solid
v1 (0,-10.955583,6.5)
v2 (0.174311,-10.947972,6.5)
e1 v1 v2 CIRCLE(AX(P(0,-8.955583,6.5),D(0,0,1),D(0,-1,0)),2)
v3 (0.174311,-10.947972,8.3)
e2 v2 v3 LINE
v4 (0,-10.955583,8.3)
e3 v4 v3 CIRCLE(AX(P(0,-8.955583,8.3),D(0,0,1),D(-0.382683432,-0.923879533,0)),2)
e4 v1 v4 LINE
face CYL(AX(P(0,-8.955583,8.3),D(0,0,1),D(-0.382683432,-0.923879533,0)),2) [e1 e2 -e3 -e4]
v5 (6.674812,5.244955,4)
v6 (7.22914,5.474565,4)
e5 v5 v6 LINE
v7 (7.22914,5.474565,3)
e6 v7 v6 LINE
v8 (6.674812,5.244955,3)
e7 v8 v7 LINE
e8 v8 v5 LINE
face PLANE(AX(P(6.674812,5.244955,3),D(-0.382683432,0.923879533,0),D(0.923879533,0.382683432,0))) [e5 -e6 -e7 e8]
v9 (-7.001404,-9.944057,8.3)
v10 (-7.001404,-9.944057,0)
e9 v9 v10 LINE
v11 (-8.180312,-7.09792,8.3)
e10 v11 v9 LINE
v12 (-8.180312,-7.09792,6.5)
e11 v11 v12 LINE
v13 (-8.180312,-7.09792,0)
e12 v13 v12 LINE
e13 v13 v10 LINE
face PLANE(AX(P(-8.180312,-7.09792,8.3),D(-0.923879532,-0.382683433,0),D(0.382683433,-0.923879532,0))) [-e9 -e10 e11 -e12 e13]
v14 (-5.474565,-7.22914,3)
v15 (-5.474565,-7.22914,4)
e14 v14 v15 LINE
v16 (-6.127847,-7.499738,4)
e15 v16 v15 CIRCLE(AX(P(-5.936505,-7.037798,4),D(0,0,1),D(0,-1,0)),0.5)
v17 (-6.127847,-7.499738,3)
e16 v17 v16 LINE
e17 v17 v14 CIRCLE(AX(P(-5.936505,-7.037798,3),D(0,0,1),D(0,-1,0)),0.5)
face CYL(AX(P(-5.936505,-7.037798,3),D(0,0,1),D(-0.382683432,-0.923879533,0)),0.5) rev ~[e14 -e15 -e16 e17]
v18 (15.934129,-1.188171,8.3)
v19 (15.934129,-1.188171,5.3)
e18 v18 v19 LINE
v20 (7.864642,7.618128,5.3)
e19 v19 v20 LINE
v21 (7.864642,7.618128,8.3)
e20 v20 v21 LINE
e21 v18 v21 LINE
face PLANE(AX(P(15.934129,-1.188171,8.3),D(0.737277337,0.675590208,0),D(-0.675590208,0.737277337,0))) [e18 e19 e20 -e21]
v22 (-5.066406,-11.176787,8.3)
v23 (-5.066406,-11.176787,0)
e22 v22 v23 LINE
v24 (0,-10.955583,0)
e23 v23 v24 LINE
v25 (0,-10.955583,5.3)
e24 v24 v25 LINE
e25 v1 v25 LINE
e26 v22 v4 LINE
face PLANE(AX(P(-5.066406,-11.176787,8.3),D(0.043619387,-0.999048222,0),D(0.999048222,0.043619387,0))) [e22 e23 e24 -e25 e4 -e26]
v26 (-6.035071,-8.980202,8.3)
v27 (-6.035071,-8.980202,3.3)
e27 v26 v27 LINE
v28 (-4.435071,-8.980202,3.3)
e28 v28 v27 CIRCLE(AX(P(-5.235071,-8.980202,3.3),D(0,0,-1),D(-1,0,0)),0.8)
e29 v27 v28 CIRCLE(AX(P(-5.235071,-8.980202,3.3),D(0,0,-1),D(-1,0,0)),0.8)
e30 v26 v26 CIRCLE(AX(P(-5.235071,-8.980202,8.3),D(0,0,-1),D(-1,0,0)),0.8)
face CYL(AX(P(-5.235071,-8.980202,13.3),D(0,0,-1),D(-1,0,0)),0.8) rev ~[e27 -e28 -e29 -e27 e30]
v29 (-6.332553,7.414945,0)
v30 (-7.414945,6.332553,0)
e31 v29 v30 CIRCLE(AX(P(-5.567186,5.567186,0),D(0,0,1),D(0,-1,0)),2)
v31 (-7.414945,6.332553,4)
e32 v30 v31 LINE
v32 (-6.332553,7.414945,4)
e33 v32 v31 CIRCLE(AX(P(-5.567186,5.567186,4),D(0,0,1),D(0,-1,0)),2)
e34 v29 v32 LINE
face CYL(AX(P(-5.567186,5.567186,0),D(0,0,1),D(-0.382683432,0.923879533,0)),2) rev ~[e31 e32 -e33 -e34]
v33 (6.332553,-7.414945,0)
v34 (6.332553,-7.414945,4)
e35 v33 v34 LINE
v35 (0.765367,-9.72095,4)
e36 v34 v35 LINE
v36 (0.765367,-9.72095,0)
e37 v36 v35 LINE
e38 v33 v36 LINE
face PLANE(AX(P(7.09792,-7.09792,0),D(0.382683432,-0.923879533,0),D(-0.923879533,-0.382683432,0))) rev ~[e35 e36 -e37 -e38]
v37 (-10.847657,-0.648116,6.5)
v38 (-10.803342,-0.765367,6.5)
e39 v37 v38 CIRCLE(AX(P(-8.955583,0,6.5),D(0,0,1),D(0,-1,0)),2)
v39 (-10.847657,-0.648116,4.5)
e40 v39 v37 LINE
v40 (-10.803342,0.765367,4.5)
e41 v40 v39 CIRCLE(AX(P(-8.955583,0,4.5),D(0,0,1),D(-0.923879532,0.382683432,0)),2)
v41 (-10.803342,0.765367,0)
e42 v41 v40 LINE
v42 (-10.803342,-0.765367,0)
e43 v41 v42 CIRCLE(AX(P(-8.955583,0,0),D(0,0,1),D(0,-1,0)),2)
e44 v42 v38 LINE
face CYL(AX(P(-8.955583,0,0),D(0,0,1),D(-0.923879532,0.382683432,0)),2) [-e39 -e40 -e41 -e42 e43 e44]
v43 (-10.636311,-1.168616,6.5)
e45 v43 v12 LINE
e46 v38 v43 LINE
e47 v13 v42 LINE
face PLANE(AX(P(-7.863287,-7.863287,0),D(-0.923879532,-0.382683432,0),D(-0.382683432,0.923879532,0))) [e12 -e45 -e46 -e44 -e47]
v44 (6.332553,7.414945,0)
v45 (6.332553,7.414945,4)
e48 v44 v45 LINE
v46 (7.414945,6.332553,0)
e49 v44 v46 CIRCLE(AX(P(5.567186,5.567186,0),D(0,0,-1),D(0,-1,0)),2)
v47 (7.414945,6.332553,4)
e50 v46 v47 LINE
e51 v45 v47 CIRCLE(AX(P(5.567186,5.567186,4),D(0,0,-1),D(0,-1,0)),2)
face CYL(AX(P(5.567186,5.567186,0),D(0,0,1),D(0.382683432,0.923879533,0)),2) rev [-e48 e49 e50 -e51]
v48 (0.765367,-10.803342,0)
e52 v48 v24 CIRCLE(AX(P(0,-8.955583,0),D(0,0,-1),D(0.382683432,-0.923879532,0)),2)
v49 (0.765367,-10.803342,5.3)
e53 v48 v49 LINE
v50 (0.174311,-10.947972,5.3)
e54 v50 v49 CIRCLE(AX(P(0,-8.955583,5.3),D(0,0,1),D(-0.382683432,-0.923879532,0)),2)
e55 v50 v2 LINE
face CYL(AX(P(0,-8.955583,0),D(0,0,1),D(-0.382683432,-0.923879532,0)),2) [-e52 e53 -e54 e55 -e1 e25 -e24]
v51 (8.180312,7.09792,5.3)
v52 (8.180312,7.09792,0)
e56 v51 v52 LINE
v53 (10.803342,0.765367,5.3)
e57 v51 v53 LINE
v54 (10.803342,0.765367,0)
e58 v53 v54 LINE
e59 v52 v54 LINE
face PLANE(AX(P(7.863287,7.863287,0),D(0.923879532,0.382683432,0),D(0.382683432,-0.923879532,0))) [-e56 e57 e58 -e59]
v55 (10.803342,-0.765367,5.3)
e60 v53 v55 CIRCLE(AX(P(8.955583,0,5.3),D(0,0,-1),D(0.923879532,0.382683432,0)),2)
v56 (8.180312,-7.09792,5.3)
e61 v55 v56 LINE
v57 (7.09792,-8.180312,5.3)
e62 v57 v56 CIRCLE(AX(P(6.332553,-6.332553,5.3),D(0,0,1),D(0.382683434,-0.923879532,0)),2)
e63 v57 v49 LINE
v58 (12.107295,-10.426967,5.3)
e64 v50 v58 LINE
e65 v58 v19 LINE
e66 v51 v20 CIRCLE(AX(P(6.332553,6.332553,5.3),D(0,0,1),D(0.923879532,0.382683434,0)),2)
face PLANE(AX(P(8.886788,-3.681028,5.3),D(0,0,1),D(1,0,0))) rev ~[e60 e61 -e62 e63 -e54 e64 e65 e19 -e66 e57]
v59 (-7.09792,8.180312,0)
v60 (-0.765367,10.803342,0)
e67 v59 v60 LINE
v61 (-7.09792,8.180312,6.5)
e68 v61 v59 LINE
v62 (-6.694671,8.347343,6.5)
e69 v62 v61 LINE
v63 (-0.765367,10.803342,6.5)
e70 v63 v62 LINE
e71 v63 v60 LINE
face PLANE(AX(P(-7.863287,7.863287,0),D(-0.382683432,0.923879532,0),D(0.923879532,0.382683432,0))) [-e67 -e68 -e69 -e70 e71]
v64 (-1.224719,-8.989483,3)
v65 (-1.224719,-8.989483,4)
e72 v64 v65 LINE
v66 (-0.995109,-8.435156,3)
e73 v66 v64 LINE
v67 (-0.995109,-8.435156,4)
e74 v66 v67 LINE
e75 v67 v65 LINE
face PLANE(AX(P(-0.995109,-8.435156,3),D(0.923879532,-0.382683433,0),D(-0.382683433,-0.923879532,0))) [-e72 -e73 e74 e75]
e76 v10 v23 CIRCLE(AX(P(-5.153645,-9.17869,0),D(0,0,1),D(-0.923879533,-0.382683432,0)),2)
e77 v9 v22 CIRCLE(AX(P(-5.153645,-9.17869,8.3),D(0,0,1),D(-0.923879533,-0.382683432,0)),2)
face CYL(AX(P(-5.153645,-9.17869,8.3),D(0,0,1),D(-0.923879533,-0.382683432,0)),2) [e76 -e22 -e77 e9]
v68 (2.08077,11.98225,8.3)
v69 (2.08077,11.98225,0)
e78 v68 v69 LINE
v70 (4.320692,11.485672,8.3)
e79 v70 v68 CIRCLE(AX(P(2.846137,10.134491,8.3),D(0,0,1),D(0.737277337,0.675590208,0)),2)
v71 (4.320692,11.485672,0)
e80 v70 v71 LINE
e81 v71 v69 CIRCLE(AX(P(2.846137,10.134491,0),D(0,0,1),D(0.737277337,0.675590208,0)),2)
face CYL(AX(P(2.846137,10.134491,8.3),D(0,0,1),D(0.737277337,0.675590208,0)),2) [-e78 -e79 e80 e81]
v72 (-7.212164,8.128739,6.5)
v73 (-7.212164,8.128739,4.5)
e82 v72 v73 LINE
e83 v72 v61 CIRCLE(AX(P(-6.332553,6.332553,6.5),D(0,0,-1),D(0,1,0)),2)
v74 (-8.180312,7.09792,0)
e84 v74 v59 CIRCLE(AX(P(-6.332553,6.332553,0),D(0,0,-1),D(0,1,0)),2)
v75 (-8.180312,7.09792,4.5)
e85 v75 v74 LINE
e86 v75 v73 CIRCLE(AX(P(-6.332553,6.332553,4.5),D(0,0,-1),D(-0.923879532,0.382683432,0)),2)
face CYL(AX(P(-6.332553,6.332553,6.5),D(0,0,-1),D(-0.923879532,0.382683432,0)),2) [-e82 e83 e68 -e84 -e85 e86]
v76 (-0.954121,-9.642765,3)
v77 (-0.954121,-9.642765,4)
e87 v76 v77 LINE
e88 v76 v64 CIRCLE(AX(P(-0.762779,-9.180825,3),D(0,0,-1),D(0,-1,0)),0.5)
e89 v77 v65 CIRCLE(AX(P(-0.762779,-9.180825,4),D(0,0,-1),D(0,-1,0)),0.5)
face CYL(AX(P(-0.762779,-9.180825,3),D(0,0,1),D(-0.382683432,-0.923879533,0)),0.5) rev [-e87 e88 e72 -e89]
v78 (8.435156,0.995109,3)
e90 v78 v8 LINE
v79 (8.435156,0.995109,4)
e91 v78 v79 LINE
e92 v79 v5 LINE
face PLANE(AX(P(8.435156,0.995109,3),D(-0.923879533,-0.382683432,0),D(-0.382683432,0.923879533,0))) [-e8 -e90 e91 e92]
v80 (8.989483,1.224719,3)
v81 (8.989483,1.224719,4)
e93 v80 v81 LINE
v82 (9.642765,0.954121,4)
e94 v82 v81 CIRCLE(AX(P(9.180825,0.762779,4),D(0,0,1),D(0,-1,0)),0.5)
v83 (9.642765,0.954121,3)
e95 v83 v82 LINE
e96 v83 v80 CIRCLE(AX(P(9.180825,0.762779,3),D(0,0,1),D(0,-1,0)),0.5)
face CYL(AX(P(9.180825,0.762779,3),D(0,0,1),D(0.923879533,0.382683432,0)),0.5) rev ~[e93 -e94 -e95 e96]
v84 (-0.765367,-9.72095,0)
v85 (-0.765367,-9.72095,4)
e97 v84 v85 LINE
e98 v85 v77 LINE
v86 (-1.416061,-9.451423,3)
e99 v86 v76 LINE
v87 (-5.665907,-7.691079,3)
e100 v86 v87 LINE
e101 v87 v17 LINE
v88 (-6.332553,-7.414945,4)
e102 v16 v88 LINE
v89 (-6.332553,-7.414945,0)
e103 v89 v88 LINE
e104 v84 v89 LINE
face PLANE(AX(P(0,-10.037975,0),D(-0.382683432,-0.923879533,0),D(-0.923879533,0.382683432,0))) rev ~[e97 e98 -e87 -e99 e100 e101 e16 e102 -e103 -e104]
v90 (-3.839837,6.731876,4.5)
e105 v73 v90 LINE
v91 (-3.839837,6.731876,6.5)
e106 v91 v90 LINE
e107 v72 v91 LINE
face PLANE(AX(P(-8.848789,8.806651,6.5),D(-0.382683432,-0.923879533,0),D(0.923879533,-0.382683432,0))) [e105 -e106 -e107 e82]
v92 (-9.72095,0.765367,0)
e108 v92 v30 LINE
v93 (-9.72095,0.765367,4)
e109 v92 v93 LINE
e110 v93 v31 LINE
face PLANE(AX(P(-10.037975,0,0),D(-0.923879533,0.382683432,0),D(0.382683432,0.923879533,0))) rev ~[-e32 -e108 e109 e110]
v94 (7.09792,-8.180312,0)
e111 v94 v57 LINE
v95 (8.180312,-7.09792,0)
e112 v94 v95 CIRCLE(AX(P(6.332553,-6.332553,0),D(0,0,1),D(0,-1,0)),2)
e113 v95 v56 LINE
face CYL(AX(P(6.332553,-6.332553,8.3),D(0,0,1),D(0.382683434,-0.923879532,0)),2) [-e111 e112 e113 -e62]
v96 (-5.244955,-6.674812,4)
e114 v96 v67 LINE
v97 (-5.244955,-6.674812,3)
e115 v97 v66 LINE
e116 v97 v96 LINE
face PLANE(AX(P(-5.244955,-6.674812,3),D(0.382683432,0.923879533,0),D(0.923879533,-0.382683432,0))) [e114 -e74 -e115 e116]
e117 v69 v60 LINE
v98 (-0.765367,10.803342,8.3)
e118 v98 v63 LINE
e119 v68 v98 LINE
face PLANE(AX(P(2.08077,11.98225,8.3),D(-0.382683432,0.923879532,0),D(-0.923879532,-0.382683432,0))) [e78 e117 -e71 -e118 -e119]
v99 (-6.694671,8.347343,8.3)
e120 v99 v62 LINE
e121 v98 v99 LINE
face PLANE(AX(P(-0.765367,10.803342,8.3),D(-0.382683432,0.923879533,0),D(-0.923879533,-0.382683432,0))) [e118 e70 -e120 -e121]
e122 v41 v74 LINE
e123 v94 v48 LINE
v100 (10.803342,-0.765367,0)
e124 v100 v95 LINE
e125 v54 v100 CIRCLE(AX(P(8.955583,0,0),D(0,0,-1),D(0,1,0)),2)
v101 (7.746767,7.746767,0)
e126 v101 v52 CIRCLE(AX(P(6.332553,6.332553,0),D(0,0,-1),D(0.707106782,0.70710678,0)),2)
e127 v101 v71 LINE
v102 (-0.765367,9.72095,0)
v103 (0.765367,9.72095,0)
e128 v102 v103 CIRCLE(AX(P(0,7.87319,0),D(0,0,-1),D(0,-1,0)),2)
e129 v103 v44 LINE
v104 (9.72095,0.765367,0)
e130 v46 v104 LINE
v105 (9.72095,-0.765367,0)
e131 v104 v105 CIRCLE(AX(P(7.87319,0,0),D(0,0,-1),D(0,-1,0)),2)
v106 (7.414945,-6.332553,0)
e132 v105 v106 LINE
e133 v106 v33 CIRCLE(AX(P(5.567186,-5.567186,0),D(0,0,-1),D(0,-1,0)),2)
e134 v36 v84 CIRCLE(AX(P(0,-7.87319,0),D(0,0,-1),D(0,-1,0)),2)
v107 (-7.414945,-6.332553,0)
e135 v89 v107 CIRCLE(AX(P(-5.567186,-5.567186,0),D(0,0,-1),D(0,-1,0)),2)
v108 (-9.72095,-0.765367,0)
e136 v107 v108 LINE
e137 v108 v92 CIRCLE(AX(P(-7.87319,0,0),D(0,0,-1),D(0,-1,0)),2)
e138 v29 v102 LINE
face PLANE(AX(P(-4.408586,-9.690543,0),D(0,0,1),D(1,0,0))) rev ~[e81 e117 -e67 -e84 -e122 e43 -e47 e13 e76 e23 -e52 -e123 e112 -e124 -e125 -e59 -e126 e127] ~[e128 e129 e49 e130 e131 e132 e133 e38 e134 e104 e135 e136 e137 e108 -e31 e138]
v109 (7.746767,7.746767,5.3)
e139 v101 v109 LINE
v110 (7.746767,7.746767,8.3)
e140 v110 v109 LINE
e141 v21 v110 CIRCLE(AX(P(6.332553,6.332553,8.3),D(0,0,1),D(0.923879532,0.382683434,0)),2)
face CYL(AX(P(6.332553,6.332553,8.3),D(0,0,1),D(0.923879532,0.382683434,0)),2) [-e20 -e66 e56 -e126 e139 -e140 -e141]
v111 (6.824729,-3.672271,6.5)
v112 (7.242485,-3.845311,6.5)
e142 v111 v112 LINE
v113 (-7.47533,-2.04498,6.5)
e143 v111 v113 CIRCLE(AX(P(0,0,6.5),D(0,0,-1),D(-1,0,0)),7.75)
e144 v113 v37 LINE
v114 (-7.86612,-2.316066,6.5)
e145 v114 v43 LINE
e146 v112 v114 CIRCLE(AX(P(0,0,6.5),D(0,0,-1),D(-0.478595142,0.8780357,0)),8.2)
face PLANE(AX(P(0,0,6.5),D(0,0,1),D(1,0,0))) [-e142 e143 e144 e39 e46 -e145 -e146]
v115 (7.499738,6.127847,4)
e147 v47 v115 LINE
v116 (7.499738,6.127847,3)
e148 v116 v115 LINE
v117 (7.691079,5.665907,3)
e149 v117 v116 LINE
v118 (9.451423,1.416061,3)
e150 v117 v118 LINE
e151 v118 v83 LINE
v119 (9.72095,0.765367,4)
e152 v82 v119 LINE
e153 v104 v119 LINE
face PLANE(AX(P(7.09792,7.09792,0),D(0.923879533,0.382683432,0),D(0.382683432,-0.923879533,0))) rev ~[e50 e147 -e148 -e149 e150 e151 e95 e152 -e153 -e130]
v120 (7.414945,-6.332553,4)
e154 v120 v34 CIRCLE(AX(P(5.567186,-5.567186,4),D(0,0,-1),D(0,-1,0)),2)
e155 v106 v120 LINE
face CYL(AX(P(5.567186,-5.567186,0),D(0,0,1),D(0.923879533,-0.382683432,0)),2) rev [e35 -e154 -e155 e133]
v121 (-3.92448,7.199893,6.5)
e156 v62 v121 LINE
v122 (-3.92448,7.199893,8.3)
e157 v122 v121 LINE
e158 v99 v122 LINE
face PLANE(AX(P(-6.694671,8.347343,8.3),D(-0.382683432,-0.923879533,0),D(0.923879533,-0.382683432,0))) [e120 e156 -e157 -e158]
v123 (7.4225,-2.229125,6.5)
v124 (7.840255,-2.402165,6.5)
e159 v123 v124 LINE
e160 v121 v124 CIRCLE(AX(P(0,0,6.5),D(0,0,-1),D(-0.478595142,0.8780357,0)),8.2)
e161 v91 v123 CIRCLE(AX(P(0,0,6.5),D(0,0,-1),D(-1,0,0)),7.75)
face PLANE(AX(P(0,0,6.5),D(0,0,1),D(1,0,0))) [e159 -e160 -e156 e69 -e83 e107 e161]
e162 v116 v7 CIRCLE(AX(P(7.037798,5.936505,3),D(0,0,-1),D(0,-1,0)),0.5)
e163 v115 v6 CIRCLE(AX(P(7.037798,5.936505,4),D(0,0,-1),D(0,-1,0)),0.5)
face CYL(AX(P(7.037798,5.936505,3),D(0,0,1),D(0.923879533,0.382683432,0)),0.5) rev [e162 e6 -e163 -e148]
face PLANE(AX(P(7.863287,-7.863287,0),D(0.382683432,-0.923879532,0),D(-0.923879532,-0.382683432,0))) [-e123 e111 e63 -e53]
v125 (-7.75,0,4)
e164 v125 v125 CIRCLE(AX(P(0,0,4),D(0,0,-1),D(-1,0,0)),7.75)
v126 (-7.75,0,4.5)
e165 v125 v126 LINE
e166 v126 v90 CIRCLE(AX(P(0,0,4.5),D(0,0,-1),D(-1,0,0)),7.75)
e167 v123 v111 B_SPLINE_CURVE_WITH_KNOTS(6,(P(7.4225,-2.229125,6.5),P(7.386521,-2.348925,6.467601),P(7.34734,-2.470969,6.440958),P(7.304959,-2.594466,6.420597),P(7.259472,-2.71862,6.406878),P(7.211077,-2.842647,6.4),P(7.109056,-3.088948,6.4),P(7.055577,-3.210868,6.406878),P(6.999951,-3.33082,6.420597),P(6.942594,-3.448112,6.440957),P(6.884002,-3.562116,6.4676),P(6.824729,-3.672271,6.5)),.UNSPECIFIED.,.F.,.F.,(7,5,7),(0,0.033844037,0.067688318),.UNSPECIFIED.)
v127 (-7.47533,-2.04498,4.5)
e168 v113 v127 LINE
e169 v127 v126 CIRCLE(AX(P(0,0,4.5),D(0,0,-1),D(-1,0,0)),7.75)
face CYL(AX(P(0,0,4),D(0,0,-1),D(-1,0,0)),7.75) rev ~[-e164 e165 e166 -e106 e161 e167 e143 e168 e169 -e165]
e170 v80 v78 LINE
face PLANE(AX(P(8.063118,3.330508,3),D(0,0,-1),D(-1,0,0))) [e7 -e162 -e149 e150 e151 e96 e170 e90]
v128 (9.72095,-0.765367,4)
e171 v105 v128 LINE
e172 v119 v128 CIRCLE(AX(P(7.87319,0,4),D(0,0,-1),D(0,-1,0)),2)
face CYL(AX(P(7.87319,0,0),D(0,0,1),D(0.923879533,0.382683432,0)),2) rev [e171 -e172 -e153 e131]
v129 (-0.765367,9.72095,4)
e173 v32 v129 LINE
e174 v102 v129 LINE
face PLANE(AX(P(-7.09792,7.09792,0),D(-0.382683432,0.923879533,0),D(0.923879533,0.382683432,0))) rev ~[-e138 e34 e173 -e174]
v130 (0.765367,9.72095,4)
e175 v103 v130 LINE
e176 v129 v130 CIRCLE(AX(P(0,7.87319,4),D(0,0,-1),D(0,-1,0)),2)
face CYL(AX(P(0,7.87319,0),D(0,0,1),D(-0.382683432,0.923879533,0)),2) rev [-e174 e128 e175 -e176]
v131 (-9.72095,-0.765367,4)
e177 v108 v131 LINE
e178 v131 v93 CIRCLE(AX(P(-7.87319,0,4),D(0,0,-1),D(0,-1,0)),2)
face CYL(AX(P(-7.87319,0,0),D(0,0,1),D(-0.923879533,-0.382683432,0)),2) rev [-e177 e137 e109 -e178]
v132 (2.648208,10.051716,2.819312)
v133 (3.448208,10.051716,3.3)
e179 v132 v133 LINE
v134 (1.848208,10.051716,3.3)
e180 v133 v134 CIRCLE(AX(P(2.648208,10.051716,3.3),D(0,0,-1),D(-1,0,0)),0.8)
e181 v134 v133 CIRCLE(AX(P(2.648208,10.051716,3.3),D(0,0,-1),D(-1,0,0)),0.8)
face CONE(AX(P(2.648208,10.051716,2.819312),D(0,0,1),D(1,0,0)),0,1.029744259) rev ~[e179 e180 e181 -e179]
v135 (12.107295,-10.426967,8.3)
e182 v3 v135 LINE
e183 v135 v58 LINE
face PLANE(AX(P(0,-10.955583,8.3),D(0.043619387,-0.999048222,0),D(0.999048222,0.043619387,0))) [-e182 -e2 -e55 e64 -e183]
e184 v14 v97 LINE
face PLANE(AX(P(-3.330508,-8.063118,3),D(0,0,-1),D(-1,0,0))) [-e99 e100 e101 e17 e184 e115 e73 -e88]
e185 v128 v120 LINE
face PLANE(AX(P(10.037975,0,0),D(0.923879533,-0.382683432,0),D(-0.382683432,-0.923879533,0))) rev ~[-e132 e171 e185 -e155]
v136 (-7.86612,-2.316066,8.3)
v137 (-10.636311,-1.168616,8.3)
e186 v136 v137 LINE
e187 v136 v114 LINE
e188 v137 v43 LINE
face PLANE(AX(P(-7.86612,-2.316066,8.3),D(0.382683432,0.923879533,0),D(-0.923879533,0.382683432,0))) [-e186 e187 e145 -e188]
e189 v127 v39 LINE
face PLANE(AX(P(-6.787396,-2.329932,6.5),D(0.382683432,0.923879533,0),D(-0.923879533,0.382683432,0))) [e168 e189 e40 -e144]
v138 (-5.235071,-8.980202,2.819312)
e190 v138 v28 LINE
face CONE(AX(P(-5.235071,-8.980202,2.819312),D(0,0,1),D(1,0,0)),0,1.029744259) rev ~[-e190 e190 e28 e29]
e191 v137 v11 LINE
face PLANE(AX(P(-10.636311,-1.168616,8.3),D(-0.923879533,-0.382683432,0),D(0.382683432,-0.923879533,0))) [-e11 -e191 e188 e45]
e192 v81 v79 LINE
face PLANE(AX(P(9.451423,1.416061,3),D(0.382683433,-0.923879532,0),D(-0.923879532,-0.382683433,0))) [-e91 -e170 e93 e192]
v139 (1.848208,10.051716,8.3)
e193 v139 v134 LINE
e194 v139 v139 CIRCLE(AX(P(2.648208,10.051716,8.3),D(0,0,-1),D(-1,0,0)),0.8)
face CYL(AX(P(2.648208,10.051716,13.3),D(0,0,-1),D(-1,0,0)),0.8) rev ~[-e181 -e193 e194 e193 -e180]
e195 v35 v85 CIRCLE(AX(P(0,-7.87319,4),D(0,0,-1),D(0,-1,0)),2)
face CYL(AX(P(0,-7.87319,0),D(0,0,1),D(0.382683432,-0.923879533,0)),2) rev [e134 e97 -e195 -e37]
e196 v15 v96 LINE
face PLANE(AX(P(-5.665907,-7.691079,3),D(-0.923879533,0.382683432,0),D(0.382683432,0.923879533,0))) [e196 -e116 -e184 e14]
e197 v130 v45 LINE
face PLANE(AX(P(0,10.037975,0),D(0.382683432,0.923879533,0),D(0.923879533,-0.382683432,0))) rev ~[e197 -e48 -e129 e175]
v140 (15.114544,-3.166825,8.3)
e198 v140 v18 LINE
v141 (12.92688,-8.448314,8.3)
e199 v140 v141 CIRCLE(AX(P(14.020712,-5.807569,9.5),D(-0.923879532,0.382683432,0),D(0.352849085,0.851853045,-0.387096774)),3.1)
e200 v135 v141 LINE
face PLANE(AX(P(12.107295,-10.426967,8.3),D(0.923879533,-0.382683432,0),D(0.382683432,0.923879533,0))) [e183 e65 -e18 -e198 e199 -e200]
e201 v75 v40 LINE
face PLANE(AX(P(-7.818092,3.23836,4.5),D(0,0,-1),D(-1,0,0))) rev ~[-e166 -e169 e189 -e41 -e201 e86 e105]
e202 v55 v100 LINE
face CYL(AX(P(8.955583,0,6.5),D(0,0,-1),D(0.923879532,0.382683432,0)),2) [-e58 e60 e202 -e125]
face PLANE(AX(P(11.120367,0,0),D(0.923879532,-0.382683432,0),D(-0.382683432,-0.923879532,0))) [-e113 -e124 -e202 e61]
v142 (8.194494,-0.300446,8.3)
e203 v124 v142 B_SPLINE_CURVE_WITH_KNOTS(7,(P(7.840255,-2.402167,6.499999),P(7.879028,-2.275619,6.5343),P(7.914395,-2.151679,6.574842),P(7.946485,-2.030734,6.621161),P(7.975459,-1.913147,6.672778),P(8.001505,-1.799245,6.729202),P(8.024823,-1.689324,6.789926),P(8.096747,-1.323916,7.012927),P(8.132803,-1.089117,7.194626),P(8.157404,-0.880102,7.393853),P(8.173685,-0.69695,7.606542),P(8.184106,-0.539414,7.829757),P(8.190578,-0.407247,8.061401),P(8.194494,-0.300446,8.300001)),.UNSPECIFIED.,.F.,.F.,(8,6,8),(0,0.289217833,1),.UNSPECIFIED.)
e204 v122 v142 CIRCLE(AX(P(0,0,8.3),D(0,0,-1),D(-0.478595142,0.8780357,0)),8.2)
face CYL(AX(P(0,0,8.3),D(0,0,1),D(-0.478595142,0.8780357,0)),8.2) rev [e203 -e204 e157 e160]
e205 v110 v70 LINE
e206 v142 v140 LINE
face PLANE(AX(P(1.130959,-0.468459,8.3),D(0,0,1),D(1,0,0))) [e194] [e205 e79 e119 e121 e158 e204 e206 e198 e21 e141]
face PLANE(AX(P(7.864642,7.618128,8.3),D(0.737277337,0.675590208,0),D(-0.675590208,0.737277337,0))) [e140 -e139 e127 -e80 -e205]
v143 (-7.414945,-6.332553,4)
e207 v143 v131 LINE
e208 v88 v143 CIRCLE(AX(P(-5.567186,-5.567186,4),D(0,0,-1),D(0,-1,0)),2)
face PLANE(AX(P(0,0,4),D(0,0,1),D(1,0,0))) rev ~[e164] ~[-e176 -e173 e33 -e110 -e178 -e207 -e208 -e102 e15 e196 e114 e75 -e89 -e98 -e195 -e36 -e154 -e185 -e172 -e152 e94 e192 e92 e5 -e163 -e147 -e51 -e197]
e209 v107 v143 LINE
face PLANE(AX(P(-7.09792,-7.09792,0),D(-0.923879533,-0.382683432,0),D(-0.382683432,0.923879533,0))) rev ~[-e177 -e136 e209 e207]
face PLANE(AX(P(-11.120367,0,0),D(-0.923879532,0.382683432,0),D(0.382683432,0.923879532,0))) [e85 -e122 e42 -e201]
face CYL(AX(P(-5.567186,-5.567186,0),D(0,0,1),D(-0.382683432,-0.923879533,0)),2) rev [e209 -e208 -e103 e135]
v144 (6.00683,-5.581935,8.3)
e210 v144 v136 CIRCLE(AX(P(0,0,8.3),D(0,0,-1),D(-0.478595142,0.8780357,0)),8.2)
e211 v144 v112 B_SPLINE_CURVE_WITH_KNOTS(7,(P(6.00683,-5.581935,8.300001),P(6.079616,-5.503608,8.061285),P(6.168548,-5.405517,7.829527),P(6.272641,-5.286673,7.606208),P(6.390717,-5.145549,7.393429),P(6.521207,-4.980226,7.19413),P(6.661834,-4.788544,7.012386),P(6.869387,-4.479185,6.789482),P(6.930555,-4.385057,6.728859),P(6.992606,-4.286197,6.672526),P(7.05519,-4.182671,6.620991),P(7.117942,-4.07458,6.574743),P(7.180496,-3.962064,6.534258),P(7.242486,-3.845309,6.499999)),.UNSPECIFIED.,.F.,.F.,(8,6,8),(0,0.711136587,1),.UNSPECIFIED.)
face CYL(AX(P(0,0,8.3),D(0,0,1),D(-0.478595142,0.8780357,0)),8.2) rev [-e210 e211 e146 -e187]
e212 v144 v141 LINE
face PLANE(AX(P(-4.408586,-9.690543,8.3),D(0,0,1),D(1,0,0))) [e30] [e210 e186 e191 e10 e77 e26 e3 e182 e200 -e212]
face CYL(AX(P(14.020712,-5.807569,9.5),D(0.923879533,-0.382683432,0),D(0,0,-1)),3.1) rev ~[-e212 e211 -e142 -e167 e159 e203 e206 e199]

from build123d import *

# Parameters (mm, degrees)
BOSS_EXTRUDE1_DEPTH             = 6
BOSS_EXTRUDE1_2_DEPTH           = 6
CUT_EXTRUDE1_DEPTH              = 4
BOSS_EXTRUDE2_DEPTH             = 0.5
BOSS_EXTRUDE2_DEPTH_BACK        = 2
BOSS_EXTRUDE3_REACH             = 22.017
BOSS_EXTRUDE3_START             = -3
SKETCH6_R                       = 7.75
CUT_EXTRUDE2_DEPTH              = 17.227295759
FILLET1_R                       = 2
BOSS_EXTRUDE4_START             = 1.8
BOSS_EXTRUDE4_DEPTH             = 1.8
CUT_EXTRUDE3_DEPTH              = 2
BOSS_EXTRUDE5_DEPTH             = 3
CUT_EXTRUDE4_REACH              = 33.204
CUT_EXTRUDE4_END_RADIUS         = 7.75
SKETCH11_R                      = 3.1
BOSS_EXTRUDE6_DEPTH             = 8.3
TAP_DRILL_FOR_M2X0_4_TAP1_D     = 1.6
TAP_DRILL_FOR_M2X0_4_TAP1_DEPTH = 5
TAP_DRILL_FOR_M2X0_4_TAP1_TIP   = 0.480688495
FILLET2_R                       = 0.5


with BuildPart() as part:
    # Sketch1 → Boss-Extrude1 (new body)
    with BuildSketch(Plane.XY):
        Polygon((-8.605017992, 0), (-6.084666575, 6.084666575), (0, 8.605017992), (6.084666575, 6.084666575), (8.605017992, 0), (6.084666575, -6.084666575), (0, -8.605017992), (-6.084666575, -6.084666575), align=None)
    extrude(amount=BOSS_EXTRUDE1_DEPTH)

    # Sketch3 → Cut-Extrude1 (cut)
    with BuildSketch(Plane(origin=(0, 0, 0), x_dir=(-1, 0, 0), z_dir=(0, 0, -1))):
        Polygon((6.084666575, 6.084666575), (0, 8.605017992), (-6.084666575, 6.084666575), (-8.605017992, 0), (-6.084666575, -6.084666575), (0, -8.605017992), (6.084666575, -6.084666575), (8.605017992, 0), align=None)
    extrude(amount=-CUT_EXTRUDE1_DEPTH, mode=Mode.SUBTRACT)



with BuildPart() as body_2:
    # Sketch1 → Boss-Extrude1 2 (new body)
    with BuildSketch(Plane.XY):
        Polygon((-11.120367073, 0), (-7.863286966, 7.863286966), (0, 11.120367073), (7.863286966, 7.863286966), (11.120367073, 0), (7.863286966, -7.863286966), (0, -11.120367073), (-7.863286966, -7.863286966), align=None)
        Polygon((-7.097920102, 7.097920102), (0, 10.037974872), (7.097920102, 7.097920102), (10.037974872, 0), (7.097920102, -7.097920102), (0, -10.037974872), (-7.097920102, -7.097920102), (-10.037974872, 0), align=None, mode=Mode.SUBTRACT)
    extrude(amount=BOSS_EXTRUDE1_2_DEPTH)


with BuildPart() as part_1:
    add(part.part)

    add(body_2.part)  # Boss-Extrude2 merges body 2
    # Sketch4 → Boss-Extrude2 (add, two sides: drawn at the far end of the back side and taken through both)
    with BuildSketch(Plane.XY.offset(6).offset(-BOSS_EXTRUDE2_DEPTH_BACK)):
        Polygon((-11.120367073, 0), (-7.863286966, -7.863286966), (0, -11.120367073), (7.863286966, -7.863286966), (11.120367073, 0), (7.863286966, 7.863286966), (0, 11.120367073), (-7.863286966, 7.863286966), align=None)
    extrude(amount=BOSS_EXTRUDE2_DEPTH + BOSS_EXTRUDE2_DEPTH_BACK)

    # Sketch5 → Boss-Extrude3 (add, up to next)
    with BuildSketch(Plane(origin=(0, 0, 0), x_dir=(-1, 0, 0), z_dir=(0, 0, -1)).offset(BOSS_EXTRUDE3_START), mode=Mode.PRIVATE) as boss_extrude3_sk1:
        Polygon((-7.691079422, 5.665906826), (-9.451423211, 1.416060977), (-8.435155725, 0.995109201), (-6.674811936, 5.244955051), align=None)
    boss_extrude3_tool1 = extrude(boss_extrude3_sk1.sketch, amount=-BOSS_EXTRUDE3_REACH, mode=Mode.PRIVATE) - part_1.part
    # Sketch5 → Boss-Extrude3 (add, up to next)
    with BuildSketch(Plane(origin=(0, 0, 0), x_dir=(-1, 0, 0), z_dir=(0, 0, -1)).offset(BOSS_EXTRUDE3_START), mode=Mode.PRIVATE) as boss_extrude3_sk2:
        Polygon((1.416060977, -9.451423211), (5.665906826, -7.691079422), (5.244955051, -6.674811936), (0.995109201, -8.435155725), align=None)
    boss_extrude3_tool2 = extrude(boss_extrude3_sk2.sketch, amount=-BOSS_EXTRUDE3_REACH, mode=Mode.PRIVATE) - part_1.part
    add(boss_extrude3_tool1.solids().sort_by_distance((8.063118, 3.330508, 3))[0])
    add(boss_extrude3_tool2.solids().sort_by_distance((-3.330508, -8.063118, 3))[0])

    # Sketch6 → Cut-Extrude2 (cut, through all)
    with BuildSketch(Plane(origin=(0, 0, 4), x_dir=(-1, 0, 0), z_dir=(0, 0, -1))):
        Circle(SKETCH6_R)
    extrude(amount=-CUT_EXTRUDE2_DEPTH, mode=Mode.SUBTRACT)

    # Fillet1
    fillet1_edges = [part_1.edges().sort_by_distance(p)[0] for p in [
        (-7.863286966, -7.863286966, 3.25),
        (0, -11.120367073, 3.25),
        (7.863286966, -7.863286966, 3.25),
        (11.120367073, 0, 3.25),
        (7.863286966, 7.863286966, 3.25),
        (0, 11.120367073, 3.25),
        (-7.863286966, 7.863286966, 3.25),
        (-11.120367073, 0, 3.25),
        (7.097920102, 7.097920102, 2),
        (0, 10.037974872, 2),
        (10.037974872, 0, 2),
        (7.097920102, -7.097920102, 2),
        (0, -10.037974872, 2),
        (-7.097920102, -7.097920102, 2),
        (-10.037974872, 0, 2),
        (-7.097920102, 7.097920102, 2),
    ]]
    fillet(fillet1_edges, radius=FILLET1_R)

    # Sketch9 → Boss-Extrude4 (add)
    with BuildSketch(Plane.XY.offset(6.5).offset(BOSS_EXTRUDE4_START)):
        with BuildLine():
            ThreePointArc((8.180312302, 7.097920102), (7.746766799, 7.746766799), (7.097920102, 8.180312302))
            Line((7.097920102, 8.180312302), (0.765366865, 10.803341737))
            ThreePointArc((0.765366865, 10.803341737), (0, 10.955582672), (-0.765366865, 10.803341737))
            Line((-0.765366865, 10.803341737), (-6.694671234, 8.347343452))
            Line((-6.694671234, 8.347343452), (-3.924480161, 7.19989274))
            ThreePointArc((-3.924480161, 7.19989274), (7.575812167, -3.138004145), (-7.866119515, -2.316066445))
            Line((-7.866119515, -2.316066445), (-10.636310587, -1.168615733))
            Line((-10.636310587, -1.168615733), (-8.180312302, -7.097920102))
            ThreePointArc((-8.180312302, -7.097920102), (-7.746766799, -7.746766799), (-7.097920102, -8.180312302))
            Line((-7.097920102, -8.180312302), (-0.765366865, -10.803341737))
            ThreePointArc((-0.765366865, -10.803341737), (0, -10.955582672), (0.765366865, -10.803341737))
            Line((0.765366865, -10.803341737), (7.097920102, -8.180312302))
            ThreePointArc((7.097920102, -8.180312302), (7.746766799, -7.746766799), (8.180312302, -7.097920102))
            Line((8.180312302, -7.097920102), (10.803341737, -0.765366865))
            ThreePointArc((10.803341737, -0.765366865), (10.955582672, 0), (10.803341737, 0.765366865))
            Line((10.803341737, 0.765366865), (8.180312302, 7.097920102))
        make_face()
    extrude(amount=-BOSS_EXTRUDE4_DEPTH)

    # Sketch10 → Cut-Extrude3 (cut)
    with BuildSketch(Plane.XY.offset(6.5)):
        Polygon((-8.848789177, 8.806651439), (-3.151903136, 6.446923978), (-6.787395744, -2.329931581), (-12.484281785, 0.02979588), align=None)
    extrude(amount=-CUT_EXTRUDE3_DEPTH, mode=Mode.SUBTRACT)

    # Sketch12 → Boss-Extrude5 (add)
    with BuildSketch(Plane.XY.offset(8.3)):
        with BuildLine():
            Line((0, -10.955582672), (12.107294918, -10.42696676))
            Line((12.107294918, -10.42696676), (15.934129241, -1.188171435))
            Line((15.934129241, -1.188171435), (7.746766799, 7.746766799))
            Line((7.746766799, 7.746766799), (7.287962899, 6.639116202))
            Line((7.287962899, 6.639116202), (9.879462205, 0.382683432))
            ThreePointArc((9.879462205, 0.382683432), (9.955582672, 0), (9.879462205, -0.382683432))
            Line((9.879462205, -0.382683432), (7.256432769, -6.715236669))
            ThreePointArc((7.256432769, -6.715236669), (7.039660018, -7.039660018), (6.715236669, -7.256432769))
            Line((6.715236669, -7.256432769), (0.4588039, -9.847932075))
            Line((0.4588039, -9.847932075), (0, -10.955582672))
        make_face()
    extrude(amount=-BOSS_EXTRUDE5_DEPTH)

    # Cut-Extrude4: up to this cylinder (the profile starts outside it)
    cut_extrude4_end = Plane(origin=(0, 0, 9.5), z_dir=(0, 0, -1)) * Cylinder(CUT_EXTRUDE4_END_RADIUS, 82.908, mode=Mode.PRIVATE)
    # Sketch11 → Cut-Extrude4 (cut, up to the surface)
    with BuildSketch(Plane(origin=(14.020712079, -5.807569097, 0), x_dir=(0, 0, -1), z_dir=(0.9238795325112878, -0.38268343236508723, 0)), mode=Mode.PRIVATE) as cut_extrude4_sk1:
        with Locations((-9.5, 0)):
            Circle(SKETCH11_R)
    cut_extrude4_tool1 = extrude(cut_extrude4_sk1.sketch, amount=-CUT_EXTRUDE4_REACH, mode=Mode.PRIVATE) - cut_extrude4_end
    add(cut_extrude4_tool1.solids().sort_by_distance((14.020712, -5.807569, 9.5))[0], mode=Mode.SUBTRACT)

    # Sketch13 → Boss-Extrude6 (add)
    with BuildSketch(Plane.XY.offset(8.3)):
        with BuildLine():
            Line((-8.180312302, -7.097920102), (-7.001403735, -9.944057152))
            ThreePointArc((-7.001403735, -9.944057152), (-6.228243887, -10.865473179), (-5.066405895, -11.176786731))
            Line((-5.066405895, -11.176786731), (0.174311485, -10.947972068))
            Line((0.174311485, -10.947972068), (-8.180312302, -7.097920102))
        make_face()
        with BuildLine():
            Line((7.864642123, 7.618128456), (4.320691724, 11.485671654))
            ThreePointArc((4.320691724, 11.485671654), (3.279016278, 12.087083253), (2.080770186, 11.982250304))
            Line((2.080770186, 11.982250304), (-0.765366865, 10.803341737))
            Line((-0.765366865, 10.803341737), (7.864642123, 7.618128456))
        make_face()
    extrude(amount=-BOSS_EXTRUDE6_DEPTH)

    # Tap Drill for M2x0.4 Tap1
    with Locations(Plane.XY.offset(8.3)):
        with Locations((-5.235070699, -8.98020238), (2.648208008, 10.05171599)):
            Hole(TAP_DRILL_FOR_M2X0_4_TAP1_D / 2, depth=TAP_DRILL_FOR_M2X0_4_TAP1_DEPTH)
            with Locations((0, 0, -(TAP_DRILL_FOR_M2X0_4_TAP1_DEPTH + TAP_DRILL_FOR_M2X0_4_TAP1_TIP / 2))):  # 118° drill point
                Cone(0, TAP_DRILL_FOR_M2X0_4_TAP1_D / 2, TAP_DRILL_FOR_M2X0_4_TAP1_TIP, mode=Mode.SUBTRACT)

    # Fillet2
    fillet2_edges = [part_1.edges().sort_by_distance(p)[0] for p in [
        (9.451423211, 1.416060977, 3.5),
        (7.691079422, 5.665906826, 3.5),
        (-5.665906826, -7.691079422, 3.5),
        (-1.416060977, -9.451423211, 3.5),
    ]]
    fillet(fillet2_edges, radius=FILLET2_R)


solid = part_1.part
